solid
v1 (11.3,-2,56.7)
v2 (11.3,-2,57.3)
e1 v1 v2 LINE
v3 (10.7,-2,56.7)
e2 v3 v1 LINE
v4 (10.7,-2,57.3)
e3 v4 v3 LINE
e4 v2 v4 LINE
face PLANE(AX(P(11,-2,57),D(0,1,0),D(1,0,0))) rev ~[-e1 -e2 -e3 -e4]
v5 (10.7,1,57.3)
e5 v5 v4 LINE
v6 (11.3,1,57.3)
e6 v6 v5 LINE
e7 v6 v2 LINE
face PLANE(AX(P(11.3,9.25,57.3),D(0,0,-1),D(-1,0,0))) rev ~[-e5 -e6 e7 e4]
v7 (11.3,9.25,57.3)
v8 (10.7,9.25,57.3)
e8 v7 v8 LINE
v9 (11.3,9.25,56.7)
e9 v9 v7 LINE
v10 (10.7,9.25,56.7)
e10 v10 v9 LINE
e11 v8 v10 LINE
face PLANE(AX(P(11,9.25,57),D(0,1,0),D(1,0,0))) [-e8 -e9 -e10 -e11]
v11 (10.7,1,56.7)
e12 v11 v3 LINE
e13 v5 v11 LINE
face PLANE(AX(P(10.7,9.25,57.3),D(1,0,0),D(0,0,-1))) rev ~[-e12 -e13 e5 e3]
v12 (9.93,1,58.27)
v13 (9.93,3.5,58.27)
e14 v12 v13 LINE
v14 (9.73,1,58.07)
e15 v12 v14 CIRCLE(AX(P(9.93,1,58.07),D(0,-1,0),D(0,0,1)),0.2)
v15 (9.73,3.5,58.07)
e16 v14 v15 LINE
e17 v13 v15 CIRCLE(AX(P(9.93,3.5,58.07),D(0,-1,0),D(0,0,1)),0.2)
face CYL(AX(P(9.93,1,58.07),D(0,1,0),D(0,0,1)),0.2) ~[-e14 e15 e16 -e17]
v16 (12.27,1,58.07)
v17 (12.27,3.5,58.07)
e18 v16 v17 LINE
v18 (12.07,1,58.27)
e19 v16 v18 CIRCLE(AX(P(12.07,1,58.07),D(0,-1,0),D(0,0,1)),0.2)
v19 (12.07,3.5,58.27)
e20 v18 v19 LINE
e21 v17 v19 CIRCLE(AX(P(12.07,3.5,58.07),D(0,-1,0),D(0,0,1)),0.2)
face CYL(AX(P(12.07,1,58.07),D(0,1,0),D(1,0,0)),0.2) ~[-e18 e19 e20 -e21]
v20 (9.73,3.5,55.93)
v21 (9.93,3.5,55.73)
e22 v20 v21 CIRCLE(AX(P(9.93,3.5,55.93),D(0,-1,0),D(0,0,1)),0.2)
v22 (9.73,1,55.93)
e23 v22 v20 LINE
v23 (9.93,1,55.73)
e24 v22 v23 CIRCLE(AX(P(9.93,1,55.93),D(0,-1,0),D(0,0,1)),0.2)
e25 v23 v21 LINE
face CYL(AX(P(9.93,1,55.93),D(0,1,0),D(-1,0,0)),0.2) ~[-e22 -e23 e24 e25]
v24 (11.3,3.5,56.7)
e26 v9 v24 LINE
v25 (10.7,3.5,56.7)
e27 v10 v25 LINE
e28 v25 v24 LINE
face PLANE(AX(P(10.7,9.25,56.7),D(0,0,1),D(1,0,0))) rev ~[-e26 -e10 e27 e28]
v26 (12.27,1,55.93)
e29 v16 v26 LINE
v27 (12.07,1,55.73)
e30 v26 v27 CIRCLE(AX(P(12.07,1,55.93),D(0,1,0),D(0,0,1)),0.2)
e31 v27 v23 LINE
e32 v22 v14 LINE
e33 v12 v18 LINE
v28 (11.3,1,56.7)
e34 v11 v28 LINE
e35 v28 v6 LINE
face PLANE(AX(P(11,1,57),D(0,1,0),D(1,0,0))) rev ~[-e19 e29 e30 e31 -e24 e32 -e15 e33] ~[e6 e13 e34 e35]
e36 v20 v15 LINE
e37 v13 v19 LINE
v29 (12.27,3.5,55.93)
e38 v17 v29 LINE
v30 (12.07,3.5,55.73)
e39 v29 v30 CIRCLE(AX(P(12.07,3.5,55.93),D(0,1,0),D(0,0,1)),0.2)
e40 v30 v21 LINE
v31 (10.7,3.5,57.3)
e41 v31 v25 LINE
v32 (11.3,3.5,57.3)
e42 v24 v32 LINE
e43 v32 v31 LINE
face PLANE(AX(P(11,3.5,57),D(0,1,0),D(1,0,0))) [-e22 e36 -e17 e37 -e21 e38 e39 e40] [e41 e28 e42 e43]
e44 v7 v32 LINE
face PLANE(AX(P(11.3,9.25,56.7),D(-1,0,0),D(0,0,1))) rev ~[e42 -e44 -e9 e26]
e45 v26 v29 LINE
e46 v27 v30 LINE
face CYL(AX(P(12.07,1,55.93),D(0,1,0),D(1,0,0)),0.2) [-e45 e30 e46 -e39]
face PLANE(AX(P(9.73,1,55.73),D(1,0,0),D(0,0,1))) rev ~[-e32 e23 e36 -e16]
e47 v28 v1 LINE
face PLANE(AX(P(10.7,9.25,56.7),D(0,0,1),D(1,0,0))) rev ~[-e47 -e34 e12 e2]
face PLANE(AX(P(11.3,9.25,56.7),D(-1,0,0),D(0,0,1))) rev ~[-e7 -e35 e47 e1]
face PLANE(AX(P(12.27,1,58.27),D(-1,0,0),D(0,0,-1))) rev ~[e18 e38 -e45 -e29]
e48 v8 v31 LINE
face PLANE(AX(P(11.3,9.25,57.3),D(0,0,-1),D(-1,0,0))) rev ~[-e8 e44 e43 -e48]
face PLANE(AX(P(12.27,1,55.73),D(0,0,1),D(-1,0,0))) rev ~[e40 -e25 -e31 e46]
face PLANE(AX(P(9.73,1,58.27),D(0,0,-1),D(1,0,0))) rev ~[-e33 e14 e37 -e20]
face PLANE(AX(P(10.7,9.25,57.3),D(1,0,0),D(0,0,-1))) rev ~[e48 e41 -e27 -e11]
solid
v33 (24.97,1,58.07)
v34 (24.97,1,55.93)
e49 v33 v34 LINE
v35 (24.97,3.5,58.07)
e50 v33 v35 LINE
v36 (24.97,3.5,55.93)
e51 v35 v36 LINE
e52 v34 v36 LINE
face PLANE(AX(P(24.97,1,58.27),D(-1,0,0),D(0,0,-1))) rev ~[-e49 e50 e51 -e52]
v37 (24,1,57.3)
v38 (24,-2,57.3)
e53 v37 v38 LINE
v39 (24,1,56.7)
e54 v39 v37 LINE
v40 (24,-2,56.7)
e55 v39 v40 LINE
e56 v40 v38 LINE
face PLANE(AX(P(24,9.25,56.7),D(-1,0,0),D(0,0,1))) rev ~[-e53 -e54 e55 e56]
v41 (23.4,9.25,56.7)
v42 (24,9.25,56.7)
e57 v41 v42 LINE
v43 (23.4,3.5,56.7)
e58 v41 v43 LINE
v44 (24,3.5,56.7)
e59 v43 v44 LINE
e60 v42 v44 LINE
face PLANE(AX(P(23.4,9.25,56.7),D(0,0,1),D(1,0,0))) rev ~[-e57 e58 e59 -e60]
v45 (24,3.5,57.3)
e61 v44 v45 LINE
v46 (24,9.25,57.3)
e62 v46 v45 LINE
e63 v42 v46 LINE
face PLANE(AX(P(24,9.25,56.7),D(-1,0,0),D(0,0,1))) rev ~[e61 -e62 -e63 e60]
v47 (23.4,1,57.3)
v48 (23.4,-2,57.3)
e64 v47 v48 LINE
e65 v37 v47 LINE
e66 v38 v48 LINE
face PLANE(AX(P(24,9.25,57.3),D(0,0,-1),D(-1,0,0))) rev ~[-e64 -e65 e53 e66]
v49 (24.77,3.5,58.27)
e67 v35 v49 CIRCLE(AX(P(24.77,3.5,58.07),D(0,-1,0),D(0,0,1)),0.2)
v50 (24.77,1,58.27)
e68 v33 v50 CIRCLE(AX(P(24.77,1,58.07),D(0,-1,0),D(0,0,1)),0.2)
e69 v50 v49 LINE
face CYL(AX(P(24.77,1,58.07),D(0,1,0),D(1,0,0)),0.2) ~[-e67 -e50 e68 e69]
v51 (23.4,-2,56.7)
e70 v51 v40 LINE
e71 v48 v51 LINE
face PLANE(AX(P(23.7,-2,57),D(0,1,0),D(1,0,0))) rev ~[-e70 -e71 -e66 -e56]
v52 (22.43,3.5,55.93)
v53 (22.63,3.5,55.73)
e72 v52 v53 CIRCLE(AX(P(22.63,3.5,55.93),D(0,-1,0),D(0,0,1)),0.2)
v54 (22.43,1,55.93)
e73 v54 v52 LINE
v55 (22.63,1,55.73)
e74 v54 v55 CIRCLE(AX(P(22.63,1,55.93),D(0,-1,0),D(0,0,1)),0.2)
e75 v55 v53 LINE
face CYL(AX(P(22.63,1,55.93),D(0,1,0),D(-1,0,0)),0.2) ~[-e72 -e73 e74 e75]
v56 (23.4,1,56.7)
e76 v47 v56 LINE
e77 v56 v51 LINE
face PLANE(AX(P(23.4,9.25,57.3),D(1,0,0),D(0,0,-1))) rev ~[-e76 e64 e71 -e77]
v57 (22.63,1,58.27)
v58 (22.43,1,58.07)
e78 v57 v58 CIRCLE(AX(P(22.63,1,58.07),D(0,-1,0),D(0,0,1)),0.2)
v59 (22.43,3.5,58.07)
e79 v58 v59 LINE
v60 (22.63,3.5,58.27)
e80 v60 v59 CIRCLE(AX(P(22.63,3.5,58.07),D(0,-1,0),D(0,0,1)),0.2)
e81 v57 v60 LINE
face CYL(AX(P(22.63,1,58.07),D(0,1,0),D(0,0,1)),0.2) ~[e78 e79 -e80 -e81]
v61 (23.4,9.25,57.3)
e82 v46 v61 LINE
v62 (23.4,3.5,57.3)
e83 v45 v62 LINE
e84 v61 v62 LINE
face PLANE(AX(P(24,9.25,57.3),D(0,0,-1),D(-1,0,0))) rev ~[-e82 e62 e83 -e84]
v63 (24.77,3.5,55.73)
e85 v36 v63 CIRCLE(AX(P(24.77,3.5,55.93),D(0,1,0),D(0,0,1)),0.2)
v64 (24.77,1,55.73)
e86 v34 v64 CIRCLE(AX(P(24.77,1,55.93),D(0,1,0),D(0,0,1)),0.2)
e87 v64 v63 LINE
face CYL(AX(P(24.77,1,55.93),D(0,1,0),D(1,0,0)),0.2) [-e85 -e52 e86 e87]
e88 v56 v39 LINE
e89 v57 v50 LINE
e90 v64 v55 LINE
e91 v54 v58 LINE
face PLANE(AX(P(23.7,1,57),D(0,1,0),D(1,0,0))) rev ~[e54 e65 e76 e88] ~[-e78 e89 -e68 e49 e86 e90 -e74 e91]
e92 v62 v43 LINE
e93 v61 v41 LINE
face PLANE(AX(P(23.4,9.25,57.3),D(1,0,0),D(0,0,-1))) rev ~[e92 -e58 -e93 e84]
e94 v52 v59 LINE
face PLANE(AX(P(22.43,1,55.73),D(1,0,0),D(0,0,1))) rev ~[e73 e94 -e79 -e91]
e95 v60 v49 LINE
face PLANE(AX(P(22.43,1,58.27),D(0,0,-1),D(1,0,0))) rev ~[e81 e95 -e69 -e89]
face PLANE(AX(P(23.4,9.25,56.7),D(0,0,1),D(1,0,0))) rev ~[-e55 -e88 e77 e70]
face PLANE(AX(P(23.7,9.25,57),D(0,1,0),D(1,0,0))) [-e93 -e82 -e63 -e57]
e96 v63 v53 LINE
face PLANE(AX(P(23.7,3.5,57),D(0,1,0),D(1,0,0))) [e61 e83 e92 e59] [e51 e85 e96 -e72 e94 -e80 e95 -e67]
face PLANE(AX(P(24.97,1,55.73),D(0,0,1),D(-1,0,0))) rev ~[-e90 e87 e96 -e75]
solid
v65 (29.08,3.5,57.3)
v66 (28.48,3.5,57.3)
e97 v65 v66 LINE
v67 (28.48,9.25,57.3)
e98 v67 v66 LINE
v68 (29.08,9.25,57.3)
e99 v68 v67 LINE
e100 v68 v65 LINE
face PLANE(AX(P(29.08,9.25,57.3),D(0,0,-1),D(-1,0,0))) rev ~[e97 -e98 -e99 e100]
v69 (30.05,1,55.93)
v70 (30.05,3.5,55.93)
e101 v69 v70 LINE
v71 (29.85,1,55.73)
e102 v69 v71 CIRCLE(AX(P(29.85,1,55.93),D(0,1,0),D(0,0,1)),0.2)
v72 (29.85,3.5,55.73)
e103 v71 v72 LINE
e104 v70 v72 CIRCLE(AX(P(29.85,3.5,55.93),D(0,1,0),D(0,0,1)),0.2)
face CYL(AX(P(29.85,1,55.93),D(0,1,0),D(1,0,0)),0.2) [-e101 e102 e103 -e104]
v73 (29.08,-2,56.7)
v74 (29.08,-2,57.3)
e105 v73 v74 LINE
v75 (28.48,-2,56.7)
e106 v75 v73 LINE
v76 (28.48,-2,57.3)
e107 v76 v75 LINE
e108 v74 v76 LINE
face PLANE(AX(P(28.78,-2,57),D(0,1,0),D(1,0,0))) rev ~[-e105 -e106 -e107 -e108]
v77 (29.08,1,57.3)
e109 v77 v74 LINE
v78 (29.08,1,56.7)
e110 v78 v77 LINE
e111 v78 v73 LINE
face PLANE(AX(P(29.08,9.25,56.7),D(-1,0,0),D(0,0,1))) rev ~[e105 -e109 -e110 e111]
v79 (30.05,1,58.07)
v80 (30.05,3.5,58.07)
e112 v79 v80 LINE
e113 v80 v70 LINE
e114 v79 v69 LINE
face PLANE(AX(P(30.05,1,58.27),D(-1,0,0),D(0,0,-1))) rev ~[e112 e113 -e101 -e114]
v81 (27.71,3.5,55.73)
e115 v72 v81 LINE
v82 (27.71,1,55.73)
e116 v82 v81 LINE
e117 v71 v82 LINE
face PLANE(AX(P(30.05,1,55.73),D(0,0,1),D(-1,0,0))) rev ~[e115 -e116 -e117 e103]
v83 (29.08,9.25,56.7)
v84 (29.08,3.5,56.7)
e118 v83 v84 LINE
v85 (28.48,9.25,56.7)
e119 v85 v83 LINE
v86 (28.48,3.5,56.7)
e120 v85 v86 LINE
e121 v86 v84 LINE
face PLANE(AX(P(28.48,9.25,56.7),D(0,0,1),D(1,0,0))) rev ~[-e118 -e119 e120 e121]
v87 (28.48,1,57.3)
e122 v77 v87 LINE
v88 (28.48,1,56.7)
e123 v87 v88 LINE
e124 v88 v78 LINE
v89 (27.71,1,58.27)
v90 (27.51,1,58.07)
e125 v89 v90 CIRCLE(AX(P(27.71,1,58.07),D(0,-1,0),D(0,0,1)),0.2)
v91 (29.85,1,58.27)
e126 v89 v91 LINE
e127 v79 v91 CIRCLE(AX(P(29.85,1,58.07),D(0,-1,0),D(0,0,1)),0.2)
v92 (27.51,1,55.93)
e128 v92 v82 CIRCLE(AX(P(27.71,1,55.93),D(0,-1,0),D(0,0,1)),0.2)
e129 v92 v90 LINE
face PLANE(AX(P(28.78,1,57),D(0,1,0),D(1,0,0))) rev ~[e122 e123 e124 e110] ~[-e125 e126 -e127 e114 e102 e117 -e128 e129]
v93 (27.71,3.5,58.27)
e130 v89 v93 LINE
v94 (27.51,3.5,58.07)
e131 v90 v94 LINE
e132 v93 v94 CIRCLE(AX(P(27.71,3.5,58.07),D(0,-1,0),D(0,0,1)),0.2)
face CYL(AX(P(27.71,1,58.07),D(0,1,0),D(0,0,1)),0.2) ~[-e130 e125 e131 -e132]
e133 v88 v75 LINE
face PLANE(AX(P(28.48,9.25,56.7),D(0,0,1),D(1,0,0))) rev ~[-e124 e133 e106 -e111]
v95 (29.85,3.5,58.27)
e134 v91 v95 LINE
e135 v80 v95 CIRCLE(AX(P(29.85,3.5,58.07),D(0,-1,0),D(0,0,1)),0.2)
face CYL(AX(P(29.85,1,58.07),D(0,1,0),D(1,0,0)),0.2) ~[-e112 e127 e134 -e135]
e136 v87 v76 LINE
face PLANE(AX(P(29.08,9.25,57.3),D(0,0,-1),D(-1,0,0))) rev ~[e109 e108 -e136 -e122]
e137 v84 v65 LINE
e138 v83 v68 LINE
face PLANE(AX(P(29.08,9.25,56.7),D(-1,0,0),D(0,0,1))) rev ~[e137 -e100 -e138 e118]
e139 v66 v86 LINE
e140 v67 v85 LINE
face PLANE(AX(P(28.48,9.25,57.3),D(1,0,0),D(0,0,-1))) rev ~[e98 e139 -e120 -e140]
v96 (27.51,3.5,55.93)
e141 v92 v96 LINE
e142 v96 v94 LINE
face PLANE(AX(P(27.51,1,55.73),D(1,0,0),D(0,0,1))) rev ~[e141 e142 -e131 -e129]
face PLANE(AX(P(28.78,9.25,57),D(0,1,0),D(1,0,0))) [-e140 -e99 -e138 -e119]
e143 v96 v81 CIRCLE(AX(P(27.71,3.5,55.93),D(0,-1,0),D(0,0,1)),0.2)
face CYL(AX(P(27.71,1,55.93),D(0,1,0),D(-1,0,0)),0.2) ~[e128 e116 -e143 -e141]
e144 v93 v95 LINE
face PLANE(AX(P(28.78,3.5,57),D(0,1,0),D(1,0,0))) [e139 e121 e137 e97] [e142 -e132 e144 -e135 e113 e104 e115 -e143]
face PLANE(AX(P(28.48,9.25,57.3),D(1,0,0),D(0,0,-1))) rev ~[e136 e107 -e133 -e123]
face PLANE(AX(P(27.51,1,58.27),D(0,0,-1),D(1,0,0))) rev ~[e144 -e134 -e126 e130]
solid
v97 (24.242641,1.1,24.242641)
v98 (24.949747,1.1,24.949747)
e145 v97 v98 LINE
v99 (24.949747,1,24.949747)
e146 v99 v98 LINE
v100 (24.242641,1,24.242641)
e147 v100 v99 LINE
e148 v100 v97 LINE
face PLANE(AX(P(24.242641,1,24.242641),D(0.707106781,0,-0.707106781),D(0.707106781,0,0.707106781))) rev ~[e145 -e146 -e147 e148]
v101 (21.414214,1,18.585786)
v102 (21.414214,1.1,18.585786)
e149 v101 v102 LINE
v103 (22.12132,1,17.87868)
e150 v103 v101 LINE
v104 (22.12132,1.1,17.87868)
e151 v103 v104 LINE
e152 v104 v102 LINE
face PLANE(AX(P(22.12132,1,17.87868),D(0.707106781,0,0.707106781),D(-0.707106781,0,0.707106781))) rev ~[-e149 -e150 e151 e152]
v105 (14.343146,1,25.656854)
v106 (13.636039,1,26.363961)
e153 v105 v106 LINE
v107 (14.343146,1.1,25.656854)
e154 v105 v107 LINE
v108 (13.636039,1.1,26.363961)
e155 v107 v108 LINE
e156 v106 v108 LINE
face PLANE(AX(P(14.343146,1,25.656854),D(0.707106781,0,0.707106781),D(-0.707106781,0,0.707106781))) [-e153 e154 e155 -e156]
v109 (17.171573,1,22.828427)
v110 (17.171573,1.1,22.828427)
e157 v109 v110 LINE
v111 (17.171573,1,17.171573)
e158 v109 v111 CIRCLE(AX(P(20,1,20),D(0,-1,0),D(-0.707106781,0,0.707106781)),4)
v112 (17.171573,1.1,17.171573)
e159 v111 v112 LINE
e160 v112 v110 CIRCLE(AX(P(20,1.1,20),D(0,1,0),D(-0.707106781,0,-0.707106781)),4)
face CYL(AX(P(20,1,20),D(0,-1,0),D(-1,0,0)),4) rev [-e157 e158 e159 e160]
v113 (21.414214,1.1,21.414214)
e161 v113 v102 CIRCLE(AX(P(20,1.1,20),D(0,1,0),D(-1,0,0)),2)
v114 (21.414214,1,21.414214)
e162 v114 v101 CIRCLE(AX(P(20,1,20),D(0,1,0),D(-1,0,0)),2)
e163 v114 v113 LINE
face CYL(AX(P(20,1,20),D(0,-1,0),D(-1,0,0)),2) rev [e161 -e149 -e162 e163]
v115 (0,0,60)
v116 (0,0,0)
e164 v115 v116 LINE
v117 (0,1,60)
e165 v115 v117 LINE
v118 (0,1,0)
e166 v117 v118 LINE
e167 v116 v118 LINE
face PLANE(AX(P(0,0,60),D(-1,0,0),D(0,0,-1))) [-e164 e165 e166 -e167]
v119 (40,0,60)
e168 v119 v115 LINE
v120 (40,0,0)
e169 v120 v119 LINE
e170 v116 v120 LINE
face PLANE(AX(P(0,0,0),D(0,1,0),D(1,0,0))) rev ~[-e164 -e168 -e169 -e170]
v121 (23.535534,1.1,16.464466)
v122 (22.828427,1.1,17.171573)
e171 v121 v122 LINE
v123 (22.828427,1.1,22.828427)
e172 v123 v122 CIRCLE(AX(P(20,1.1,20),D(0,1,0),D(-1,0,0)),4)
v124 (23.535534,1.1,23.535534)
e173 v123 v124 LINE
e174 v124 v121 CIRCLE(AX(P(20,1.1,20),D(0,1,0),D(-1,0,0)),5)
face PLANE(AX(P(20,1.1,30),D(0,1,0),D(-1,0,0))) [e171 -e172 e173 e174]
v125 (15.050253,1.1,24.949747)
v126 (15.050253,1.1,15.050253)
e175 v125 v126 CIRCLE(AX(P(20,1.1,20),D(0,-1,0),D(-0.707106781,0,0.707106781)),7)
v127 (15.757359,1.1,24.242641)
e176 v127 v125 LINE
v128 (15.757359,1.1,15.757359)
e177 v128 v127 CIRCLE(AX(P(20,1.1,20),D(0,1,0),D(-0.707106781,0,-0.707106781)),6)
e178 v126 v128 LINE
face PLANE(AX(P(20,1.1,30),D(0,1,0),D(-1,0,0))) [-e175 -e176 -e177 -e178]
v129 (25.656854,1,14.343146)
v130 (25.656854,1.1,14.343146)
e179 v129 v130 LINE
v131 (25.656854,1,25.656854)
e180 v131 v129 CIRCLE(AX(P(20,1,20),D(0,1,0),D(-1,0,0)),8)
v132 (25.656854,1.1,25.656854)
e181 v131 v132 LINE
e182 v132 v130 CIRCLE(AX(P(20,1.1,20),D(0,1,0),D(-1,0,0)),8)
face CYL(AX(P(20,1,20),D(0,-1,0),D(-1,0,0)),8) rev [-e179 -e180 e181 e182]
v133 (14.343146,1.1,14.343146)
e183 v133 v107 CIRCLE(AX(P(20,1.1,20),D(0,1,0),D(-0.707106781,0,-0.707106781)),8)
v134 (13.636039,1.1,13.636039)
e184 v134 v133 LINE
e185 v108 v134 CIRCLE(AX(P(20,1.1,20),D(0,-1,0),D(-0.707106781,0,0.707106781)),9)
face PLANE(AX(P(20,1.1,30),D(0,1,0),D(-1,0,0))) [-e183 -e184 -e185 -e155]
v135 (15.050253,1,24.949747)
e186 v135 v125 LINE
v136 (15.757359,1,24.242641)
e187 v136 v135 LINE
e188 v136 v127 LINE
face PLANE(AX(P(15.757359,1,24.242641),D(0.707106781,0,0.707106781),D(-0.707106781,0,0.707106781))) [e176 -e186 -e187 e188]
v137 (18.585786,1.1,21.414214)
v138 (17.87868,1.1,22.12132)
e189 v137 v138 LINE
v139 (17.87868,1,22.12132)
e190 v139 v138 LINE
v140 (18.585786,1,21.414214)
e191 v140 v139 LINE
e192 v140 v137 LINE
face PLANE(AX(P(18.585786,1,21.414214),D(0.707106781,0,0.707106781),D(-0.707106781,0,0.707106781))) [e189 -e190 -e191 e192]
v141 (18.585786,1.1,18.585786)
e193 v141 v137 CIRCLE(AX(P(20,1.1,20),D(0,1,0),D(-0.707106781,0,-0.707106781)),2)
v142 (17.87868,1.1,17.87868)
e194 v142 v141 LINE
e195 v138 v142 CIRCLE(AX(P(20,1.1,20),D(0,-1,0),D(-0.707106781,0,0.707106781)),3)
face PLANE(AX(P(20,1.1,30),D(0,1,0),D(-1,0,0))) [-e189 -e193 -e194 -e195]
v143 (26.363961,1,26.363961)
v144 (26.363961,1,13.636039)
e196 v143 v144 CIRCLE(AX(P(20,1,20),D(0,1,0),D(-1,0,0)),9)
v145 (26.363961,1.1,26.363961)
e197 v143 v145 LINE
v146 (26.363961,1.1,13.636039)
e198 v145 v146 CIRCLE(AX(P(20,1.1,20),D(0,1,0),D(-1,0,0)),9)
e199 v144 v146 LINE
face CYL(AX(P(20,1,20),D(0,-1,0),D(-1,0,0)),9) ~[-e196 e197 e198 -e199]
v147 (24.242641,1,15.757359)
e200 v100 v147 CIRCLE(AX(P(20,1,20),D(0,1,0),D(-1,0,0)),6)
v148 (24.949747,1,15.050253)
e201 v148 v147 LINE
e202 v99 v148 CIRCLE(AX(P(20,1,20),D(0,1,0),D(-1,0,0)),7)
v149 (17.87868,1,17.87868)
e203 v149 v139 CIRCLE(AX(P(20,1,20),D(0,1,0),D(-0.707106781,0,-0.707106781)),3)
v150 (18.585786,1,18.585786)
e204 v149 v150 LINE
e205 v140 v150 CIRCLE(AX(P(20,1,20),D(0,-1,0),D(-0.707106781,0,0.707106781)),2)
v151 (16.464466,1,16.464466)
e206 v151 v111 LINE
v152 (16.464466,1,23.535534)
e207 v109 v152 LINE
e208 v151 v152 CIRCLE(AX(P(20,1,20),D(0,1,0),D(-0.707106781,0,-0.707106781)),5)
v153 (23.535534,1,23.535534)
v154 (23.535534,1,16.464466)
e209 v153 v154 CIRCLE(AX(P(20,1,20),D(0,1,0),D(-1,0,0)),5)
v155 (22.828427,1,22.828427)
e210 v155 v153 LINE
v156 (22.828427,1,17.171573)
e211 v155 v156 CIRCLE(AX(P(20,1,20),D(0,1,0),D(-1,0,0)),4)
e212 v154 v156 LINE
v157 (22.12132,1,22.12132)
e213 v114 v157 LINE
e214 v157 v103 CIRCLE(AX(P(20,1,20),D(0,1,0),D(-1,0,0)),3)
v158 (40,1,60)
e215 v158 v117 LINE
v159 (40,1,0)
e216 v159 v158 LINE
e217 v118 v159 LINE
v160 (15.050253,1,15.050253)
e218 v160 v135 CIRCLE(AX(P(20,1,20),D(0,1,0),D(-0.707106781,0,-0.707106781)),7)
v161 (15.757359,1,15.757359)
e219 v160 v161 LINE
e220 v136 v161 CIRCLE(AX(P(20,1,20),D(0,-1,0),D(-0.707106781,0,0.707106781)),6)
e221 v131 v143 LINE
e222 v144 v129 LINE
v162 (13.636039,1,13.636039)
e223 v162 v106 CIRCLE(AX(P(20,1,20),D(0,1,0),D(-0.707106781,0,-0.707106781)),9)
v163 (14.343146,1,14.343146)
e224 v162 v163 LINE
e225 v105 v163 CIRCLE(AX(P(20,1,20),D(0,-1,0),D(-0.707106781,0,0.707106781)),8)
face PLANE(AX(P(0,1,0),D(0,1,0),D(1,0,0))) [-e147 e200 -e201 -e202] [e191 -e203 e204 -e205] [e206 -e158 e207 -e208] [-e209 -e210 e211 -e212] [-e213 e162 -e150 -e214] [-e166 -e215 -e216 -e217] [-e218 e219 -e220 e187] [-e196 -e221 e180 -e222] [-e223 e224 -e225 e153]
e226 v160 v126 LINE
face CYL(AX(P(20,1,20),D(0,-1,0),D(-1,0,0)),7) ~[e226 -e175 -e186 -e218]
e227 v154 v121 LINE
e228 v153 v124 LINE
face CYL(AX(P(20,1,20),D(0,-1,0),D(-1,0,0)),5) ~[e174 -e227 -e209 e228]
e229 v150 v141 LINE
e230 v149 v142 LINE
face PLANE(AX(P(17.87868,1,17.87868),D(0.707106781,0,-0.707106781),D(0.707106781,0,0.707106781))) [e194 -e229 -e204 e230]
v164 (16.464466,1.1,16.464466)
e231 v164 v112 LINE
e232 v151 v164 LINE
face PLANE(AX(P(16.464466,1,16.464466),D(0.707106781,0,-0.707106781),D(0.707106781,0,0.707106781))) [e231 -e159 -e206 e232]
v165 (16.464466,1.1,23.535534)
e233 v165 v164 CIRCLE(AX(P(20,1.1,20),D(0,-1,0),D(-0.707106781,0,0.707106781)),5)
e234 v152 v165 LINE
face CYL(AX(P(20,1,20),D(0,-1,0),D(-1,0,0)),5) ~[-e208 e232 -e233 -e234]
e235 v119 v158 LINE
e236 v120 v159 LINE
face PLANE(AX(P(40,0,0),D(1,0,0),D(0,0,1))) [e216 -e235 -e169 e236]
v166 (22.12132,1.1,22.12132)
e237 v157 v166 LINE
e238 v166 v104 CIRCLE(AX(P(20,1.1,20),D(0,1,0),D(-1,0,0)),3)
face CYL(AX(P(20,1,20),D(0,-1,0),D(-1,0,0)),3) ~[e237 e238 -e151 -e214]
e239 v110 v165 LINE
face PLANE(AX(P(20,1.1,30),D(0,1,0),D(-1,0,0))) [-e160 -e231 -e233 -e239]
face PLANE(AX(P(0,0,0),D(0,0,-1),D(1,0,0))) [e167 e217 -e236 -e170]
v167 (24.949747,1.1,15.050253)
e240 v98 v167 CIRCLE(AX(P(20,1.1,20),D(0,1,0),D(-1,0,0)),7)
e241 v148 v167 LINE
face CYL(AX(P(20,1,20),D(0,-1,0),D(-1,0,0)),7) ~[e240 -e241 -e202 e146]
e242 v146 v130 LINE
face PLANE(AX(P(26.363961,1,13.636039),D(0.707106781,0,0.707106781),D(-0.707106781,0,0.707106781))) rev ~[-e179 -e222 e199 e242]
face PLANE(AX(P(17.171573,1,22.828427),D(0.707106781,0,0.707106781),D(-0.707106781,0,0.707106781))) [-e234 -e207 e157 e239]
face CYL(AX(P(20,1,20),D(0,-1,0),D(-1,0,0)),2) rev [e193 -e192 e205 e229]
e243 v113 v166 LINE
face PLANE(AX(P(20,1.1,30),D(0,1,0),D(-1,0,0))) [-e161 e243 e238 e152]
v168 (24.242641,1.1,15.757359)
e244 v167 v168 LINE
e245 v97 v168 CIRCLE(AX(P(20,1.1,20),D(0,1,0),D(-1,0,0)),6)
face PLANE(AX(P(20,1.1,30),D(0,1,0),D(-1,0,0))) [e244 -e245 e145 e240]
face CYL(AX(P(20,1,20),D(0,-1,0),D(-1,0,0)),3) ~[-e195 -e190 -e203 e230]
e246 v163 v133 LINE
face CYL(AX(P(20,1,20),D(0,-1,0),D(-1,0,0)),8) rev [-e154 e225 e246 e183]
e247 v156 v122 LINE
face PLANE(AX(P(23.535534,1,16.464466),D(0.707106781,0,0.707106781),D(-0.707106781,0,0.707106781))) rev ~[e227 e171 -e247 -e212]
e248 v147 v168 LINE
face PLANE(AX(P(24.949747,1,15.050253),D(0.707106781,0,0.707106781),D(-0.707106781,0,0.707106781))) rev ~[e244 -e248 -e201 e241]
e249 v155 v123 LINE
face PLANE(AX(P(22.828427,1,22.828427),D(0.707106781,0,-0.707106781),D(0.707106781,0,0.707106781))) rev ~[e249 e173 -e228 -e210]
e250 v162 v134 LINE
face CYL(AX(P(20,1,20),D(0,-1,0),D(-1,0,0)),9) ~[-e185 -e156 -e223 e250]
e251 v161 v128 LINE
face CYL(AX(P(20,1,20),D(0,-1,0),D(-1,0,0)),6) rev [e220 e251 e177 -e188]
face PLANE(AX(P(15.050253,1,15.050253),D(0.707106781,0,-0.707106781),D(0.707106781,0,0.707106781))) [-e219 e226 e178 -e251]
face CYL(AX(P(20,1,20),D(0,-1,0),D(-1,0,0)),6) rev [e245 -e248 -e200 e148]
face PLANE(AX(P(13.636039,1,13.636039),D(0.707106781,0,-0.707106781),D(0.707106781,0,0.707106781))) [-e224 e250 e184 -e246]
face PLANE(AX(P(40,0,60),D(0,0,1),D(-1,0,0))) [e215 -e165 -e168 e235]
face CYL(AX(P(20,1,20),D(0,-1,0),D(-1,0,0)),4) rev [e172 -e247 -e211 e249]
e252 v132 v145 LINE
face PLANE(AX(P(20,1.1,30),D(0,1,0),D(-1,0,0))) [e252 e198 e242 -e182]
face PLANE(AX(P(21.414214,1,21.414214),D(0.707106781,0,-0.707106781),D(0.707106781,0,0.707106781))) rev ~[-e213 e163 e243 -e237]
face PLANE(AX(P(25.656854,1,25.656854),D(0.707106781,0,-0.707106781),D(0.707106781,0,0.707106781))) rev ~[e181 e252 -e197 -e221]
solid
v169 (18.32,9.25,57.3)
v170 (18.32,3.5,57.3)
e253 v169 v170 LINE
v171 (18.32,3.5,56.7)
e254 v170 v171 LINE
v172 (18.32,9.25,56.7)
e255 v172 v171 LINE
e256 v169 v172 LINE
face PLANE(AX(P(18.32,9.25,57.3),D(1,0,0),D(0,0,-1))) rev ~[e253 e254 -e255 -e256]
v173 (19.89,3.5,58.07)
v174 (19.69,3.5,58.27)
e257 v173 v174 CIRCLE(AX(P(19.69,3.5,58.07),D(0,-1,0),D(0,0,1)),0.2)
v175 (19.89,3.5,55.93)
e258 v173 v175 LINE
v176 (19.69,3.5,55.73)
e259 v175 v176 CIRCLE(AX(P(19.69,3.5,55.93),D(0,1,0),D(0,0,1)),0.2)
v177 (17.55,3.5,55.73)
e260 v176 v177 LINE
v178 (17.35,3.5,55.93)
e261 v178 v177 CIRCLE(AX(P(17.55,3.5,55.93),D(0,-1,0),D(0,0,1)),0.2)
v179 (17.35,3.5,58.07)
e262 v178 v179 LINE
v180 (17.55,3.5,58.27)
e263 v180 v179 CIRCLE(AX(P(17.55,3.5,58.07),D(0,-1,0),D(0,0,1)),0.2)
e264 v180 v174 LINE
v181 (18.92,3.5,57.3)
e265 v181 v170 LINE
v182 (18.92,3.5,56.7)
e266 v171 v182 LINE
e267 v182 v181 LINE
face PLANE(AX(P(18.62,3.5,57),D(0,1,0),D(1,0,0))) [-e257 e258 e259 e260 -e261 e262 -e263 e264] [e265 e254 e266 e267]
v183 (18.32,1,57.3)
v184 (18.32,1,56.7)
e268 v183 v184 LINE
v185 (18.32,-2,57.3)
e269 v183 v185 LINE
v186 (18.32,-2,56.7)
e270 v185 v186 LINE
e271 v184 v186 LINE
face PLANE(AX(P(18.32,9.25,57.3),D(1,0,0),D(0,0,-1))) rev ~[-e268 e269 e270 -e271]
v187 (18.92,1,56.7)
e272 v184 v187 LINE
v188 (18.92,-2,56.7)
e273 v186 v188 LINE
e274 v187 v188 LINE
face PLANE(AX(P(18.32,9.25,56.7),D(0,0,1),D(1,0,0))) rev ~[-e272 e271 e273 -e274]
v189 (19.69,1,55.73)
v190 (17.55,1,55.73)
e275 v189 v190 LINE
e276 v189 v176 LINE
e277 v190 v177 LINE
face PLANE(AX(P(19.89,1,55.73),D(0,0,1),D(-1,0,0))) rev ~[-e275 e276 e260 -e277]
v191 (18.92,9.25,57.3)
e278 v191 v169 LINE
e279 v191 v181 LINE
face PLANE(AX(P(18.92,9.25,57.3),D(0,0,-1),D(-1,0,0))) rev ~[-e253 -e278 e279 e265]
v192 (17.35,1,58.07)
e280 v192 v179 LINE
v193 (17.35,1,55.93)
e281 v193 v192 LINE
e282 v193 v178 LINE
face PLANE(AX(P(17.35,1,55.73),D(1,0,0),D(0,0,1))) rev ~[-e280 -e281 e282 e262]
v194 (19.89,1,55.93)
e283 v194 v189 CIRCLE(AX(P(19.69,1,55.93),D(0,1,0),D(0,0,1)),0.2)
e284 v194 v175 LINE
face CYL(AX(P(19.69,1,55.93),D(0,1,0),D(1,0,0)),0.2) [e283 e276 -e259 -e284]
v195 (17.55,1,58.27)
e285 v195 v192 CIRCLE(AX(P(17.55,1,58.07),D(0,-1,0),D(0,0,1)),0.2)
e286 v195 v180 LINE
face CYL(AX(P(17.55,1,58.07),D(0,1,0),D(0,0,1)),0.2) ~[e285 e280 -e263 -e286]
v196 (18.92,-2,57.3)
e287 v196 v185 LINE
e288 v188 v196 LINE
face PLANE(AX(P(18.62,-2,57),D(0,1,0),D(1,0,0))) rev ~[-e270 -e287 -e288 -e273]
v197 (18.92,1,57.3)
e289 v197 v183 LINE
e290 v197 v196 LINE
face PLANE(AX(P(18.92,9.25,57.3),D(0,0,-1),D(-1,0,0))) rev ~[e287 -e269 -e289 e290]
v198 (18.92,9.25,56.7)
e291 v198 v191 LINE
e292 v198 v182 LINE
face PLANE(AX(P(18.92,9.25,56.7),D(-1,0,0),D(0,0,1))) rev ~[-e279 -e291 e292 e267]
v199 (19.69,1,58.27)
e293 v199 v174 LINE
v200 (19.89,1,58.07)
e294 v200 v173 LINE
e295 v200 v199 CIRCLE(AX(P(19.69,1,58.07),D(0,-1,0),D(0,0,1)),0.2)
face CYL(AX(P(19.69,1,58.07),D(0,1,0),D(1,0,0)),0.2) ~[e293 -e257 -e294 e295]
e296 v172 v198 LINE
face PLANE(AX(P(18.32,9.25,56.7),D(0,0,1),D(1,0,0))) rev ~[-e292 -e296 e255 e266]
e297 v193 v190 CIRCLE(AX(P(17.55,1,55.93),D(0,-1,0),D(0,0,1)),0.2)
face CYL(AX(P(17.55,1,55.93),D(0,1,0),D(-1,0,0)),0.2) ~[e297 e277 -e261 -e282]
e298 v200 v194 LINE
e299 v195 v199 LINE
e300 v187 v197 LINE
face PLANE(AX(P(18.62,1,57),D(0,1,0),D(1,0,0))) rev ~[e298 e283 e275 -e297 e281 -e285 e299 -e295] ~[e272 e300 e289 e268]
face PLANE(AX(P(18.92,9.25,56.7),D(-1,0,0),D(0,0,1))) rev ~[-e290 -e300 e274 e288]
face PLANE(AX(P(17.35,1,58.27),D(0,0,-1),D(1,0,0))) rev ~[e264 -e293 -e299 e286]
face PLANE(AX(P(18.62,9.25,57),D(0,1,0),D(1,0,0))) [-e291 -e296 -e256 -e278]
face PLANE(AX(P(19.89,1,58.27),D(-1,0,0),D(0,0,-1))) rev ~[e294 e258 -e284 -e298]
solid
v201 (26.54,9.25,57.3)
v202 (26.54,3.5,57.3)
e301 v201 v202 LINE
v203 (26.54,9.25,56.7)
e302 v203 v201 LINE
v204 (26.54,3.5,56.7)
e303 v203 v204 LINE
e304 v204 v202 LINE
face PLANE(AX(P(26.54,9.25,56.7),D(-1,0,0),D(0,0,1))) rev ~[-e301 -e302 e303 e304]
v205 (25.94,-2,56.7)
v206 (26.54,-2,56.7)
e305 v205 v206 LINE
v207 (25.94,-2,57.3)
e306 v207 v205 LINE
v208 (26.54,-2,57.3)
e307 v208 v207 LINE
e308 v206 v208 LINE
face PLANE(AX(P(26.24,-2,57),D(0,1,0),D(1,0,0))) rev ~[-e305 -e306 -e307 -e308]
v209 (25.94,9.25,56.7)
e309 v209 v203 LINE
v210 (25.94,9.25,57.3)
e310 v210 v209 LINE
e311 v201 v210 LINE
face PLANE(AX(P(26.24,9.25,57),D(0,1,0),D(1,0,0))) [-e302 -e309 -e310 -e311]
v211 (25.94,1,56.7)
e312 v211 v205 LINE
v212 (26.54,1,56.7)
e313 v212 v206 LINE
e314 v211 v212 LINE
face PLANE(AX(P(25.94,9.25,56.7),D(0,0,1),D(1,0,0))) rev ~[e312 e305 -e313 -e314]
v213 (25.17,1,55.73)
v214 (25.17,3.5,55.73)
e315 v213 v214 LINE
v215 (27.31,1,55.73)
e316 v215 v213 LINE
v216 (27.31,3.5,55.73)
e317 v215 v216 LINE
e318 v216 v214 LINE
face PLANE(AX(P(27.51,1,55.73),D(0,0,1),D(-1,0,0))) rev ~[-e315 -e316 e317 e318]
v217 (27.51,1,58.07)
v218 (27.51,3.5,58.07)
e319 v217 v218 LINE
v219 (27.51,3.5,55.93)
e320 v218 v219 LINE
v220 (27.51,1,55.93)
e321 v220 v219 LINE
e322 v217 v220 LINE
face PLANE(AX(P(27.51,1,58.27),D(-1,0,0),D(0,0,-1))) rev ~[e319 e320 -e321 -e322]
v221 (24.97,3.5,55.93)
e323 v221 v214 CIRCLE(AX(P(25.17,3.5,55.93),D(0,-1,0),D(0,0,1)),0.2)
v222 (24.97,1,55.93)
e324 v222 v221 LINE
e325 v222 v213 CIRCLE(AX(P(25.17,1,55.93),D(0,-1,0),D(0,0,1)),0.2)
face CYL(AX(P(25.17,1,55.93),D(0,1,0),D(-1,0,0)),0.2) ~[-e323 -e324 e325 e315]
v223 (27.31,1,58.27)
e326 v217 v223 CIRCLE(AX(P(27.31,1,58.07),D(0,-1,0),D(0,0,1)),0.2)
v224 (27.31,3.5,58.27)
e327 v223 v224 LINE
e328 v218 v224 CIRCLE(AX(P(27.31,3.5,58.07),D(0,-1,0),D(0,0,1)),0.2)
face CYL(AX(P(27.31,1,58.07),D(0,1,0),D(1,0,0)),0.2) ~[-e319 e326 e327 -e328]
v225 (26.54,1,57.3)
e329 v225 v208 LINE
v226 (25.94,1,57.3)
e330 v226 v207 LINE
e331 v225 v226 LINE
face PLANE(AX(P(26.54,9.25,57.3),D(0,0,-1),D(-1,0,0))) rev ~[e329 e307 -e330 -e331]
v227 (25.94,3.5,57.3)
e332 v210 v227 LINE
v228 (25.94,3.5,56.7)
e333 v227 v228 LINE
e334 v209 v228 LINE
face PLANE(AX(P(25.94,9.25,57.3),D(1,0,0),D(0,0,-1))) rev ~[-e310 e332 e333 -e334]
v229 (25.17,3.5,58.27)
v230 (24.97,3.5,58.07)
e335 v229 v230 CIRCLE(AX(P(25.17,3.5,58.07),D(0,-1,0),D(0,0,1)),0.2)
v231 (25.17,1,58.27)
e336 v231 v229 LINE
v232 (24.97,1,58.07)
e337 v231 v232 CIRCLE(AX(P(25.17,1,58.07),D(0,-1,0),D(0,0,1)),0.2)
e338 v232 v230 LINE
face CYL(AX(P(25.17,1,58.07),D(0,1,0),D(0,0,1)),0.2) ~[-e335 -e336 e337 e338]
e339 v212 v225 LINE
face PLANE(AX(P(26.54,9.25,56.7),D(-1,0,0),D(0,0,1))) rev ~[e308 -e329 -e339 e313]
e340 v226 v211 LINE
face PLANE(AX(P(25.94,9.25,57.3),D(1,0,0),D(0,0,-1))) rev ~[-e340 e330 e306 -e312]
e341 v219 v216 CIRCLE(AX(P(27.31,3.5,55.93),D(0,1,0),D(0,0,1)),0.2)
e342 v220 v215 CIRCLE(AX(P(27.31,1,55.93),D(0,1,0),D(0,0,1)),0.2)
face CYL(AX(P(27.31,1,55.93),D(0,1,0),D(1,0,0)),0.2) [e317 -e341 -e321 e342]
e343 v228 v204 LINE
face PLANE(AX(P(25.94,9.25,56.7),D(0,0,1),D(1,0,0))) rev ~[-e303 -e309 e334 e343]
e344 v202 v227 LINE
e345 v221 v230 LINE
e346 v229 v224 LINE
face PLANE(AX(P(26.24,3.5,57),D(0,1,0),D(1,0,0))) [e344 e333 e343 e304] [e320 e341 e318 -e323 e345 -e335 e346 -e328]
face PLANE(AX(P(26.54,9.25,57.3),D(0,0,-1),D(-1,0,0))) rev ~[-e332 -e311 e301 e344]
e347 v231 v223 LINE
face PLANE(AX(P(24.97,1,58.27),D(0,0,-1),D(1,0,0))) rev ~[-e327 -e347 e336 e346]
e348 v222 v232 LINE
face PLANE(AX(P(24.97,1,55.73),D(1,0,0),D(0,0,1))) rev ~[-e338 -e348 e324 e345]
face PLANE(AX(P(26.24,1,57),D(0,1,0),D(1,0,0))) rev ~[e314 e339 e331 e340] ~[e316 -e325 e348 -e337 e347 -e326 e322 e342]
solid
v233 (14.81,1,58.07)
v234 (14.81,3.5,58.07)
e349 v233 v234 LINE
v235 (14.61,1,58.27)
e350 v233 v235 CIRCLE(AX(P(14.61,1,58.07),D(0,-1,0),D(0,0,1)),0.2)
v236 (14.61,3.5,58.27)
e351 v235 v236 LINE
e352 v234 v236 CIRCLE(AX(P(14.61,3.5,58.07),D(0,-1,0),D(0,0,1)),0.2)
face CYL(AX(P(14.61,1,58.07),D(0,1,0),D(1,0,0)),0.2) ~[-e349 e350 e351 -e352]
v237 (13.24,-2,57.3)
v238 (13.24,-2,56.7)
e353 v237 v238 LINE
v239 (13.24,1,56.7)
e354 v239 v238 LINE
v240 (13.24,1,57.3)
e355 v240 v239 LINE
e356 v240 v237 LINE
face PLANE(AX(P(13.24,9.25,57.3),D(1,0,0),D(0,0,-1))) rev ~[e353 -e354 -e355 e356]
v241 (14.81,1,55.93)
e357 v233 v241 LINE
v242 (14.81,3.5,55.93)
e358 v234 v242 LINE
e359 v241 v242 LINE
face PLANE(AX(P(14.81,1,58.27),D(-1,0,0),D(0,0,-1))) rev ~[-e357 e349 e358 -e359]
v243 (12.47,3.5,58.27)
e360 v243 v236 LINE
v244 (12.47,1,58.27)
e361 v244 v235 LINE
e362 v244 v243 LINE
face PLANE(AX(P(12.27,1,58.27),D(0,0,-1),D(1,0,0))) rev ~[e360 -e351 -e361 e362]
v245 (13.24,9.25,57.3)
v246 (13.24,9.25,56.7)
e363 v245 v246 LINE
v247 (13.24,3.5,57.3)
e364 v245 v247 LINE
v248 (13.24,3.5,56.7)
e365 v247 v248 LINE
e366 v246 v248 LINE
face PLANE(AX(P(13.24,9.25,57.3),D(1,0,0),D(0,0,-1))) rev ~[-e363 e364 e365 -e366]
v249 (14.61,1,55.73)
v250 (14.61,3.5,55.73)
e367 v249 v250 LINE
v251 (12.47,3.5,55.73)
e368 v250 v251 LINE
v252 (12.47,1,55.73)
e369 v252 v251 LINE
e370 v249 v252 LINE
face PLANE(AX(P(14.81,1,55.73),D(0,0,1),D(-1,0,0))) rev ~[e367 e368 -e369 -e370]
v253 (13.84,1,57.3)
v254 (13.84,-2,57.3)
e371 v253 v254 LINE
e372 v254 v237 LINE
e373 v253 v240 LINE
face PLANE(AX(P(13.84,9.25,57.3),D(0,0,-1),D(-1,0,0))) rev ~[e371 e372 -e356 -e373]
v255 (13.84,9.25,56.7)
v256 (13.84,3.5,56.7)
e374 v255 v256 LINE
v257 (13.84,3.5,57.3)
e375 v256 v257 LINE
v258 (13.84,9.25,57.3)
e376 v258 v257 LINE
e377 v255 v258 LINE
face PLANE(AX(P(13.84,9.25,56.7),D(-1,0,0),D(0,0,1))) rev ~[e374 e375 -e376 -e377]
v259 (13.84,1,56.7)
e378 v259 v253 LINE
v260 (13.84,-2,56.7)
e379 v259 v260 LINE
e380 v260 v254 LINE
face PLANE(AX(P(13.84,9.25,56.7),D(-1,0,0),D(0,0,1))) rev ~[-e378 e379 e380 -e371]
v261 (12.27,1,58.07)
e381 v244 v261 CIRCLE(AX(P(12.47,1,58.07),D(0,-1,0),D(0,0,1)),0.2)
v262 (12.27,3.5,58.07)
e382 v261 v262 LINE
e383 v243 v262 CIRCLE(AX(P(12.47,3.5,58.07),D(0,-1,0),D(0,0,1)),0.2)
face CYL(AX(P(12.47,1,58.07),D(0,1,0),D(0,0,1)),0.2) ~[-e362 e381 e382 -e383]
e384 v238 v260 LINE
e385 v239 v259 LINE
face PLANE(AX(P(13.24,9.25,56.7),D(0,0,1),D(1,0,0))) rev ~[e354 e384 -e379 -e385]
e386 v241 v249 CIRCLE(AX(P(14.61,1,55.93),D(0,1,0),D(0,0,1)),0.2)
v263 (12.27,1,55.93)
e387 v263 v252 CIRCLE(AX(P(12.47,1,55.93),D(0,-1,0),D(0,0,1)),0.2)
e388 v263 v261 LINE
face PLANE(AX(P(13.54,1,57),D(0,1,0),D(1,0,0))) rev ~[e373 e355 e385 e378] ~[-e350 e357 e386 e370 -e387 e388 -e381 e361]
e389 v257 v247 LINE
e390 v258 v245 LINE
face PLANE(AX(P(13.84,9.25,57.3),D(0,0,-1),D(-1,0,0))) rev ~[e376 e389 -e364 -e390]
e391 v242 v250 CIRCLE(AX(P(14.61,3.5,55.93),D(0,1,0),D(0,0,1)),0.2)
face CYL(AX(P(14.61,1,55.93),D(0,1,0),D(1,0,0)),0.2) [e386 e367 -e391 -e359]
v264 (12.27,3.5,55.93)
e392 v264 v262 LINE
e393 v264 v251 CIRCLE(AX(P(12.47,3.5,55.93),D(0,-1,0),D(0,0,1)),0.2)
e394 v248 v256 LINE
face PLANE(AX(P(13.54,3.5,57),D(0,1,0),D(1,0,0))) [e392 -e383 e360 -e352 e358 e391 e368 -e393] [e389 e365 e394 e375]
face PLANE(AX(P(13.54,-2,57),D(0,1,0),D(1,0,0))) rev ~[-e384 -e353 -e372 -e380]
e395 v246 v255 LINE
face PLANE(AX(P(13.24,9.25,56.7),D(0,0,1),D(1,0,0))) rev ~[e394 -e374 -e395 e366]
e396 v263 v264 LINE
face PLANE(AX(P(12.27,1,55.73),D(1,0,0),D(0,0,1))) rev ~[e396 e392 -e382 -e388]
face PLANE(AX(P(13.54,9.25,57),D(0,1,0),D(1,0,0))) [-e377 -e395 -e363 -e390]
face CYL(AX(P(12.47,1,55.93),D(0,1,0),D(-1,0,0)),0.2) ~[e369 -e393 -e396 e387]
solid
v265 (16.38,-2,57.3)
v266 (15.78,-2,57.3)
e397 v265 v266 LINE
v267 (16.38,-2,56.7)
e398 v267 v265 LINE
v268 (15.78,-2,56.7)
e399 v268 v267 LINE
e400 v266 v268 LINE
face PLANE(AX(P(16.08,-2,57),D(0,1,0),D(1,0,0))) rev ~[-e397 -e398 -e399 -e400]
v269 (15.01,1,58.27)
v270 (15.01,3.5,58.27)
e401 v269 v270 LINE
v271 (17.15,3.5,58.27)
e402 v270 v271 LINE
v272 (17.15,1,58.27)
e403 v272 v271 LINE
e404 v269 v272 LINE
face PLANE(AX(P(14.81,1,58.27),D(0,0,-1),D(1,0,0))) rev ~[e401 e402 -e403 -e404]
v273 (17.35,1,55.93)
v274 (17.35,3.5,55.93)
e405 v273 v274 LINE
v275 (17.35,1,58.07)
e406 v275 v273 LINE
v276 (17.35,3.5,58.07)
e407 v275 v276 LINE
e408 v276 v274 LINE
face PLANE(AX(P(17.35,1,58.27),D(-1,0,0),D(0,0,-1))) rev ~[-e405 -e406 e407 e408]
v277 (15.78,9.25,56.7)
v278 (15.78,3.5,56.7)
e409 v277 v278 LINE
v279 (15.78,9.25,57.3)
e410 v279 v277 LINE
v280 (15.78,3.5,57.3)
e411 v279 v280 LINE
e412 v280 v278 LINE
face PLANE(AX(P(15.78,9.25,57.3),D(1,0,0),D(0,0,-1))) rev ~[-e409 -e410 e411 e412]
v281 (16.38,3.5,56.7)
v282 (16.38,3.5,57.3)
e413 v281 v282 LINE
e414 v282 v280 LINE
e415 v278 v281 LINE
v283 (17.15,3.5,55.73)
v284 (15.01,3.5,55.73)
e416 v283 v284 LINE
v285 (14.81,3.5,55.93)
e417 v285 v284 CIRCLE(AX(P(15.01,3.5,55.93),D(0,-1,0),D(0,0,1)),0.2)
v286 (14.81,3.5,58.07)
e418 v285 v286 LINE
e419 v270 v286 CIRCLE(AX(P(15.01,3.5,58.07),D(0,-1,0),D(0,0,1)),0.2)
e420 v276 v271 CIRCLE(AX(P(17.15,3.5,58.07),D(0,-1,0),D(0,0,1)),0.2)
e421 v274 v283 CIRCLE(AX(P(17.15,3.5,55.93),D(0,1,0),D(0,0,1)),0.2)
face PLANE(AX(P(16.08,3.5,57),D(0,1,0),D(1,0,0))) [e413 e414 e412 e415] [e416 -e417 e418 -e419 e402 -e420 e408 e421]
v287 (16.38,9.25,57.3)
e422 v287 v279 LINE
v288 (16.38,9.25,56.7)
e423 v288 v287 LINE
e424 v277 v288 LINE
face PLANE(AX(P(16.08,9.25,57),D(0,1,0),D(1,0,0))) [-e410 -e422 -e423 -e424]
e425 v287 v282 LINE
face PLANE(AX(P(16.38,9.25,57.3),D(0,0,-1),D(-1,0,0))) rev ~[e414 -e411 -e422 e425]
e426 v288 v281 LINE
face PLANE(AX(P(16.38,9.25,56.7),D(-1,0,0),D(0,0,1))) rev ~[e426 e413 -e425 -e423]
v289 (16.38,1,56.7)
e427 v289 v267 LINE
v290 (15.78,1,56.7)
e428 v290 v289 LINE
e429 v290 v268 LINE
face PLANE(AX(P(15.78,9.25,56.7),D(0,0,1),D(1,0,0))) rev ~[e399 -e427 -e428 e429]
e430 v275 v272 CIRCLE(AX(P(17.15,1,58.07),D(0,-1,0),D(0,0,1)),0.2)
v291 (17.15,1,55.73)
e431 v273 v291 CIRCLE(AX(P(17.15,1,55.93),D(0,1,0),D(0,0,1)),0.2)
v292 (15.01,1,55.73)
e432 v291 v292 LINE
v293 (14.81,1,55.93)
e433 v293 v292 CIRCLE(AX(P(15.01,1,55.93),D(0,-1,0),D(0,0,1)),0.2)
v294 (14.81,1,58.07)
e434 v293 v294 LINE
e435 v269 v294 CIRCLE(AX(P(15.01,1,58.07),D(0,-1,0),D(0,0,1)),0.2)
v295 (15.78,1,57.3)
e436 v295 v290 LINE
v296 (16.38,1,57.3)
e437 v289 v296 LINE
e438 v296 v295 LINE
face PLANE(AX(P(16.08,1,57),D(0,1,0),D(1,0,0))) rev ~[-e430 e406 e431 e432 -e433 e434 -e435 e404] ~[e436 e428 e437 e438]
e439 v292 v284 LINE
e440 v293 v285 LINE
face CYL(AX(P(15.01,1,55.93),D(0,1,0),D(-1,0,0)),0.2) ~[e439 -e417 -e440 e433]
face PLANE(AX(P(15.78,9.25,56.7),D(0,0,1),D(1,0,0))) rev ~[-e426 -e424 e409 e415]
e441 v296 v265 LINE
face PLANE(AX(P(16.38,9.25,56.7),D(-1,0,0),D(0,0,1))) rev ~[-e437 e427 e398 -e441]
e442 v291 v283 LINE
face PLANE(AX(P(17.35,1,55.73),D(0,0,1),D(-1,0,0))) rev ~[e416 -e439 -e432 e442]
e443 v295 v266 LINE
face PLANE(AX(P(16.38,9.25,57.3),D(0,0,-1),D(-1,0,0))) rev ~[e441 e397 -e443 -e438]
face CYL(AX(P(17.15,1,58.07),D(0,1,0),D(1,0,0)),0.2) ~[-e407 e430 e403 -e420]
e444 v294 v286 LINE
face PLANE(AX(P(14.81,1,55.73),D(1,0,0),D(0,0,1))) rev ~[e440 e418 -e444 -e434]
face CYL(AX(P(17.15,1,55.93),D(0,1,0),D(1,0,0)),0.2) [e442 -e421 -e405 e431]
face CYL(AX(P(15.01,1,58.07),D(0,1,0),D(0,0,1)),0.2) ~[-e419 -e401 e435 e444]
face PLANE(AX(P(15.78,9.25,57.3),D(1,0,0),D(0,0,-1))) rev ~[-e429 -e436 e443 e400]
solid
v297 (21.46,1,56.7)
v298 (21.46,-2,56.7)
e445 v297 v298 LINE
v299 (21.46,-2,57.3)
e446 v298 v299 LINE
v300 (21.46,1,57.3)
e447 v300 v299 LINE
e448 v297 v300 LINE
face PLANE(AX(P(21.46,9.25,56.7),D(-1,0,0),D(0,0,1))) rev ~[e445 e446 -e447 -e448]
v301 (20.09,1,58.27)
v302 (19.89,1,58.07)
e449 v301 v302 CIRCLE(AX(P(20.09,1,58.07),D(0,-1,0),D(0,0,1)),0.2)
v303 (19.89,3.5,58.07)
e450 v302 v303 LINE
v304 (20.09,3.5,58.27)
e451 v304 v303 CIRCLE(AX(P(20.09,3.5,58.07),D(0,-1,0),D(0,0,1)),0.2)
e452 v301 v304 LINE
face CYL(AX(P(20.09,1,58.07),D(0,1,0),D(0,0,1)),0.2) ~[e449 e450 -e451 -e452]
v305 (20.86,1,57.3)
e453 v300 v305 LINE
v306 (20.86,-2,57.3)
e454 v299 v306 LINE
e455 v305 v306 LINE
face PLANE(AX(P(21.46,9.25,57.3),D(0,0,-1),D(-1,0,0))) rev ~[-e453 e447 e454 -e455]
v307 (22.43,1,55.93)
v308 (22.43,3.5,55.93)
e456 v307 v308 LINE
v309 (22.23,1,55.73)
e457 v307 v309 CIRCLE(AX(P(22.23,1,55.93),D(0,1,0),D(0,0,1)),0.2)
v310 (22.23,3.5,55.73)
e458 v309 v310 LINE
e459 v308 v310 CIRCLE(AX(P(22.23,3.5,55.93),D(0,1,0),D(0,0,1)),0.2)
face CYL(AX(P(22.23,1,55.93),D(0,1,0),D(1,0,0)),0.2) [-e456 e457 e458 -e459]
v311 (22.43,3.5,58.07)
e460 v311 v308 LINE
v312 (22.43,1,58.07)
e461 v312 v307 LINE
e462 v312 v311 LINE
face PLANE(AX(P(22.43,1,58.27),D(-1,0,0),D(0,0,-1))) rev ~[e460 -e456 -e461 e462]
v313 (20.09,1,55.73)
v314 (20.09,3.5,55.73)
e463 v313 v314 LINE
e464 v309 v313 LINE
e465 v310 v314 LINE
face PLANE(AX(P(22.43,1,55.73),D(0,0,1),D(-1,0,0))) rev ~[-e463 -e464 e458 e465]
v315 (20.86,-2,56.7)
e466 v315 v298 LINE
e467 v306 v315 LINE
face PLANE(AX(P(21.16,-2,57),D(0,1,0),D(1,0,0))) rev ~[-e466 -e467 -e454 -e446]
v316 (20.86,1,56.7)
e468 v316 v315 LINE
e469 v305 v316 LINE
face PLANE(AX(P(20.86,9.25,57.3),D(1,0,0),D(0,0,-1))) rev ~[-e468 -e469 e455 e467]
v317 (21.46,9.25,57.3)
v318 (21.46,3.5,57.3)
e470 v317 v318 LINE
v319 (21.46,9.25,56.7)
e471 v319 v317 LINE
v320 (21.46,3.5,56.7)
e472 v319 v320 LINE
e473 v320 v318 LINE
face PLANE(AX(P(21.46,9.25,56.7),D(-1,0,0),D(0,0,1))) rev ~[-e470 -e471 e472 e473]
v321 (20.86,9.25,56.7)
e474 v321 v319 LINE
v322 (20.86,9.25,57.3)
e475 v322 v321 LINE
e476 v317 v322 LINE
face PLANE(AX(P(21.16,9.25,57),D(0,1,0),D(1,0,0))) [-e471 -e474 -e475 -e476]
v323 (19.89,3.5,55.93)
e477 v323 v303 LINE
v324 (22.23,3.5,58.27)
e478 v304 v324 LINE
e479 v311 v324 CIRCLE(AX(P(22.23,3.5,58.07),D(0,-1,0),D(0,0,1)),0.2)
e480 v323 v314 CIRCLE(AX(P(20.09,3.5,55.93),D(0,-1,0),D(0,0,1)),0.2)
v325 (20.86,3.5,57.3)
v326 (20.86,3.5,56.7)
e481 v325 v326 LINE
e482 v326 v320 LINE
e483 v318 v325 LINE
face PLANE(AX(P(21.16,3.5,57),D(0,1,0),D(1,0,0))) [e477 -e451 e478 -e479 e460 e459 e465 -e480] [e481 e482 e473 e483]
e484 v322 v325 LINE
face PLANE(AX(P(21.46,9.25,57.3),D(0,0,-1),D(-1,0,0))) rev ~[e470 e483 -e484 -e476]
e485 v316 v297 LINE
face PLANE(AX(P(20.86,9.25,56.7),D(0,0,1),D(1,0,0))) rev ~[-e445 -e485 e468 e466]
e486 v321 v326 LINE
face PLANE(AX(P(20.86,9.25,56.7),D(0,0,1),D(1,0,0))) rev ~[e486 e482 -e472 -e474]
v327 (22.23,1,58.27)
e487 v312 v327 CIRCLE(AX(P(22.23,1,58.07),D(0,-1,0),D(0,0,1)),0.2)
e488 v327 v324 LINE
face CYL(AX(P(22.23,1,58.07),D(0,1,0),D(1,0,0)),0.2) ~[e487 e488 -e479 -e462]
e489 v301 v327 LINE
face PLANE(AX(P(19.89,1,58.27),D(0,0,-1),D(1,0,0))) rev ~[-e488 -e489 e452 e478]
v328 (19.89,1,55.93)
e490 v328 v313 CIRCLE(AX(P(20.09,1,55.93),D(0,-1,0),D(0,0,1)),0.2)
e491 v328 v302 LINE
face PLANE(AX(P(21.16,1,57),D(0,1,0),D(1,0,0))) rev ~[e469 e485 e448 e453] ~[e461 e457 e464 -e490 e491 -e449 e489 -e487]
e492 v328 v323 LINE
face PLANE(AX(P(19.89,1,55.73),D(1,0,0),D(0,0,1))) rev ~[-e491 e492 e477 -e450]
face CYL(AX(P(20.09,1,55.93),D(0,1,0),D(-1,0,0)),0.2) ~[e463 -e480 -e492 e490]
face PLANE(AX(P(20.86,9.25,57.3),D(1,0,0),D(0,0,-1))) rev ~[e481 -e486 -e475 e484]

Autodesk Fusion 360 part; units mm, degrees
sketch "Skizze1" plane through (0, 0, 0) normal (0, 1, 0) x (1, 0, 0)
  line L0 (0, 0) -> (40, 0)
  line L1 (40, 0) -> (40, -60)
  line L2 (40, -60) -> (0, -60)
  line L3 (0, -60) -> (0, 0)
  dimension "d1" = 40
  dimension "d2" = 60
extrude "Extrusion1" add sketch "Skizze1" along normal blind 1 makes body 1
sketch "Skizze2" plane through (0, 1, 0) normal (0, 1, 0) x (-1, 0, 0)
  line L0 (0, 60) -> (-40, 60)
  line L1 (-40, 60) -> (-40, 0)
  line L2 (-40, 0) -> (0, 0)
  line L3 (0, 0) -> (0, 60)
sketch "Skizze1 (2)" plane through (0, 0, 0) normal (0, 1, 0) x (1, 0, 0) in component "PinleistenMale v6"
  line L0 (1.27, 1.27) -> (-1.27, 1.27)
  line L1 (-1.27, 1.27) -> (-1.27, -1.27)
  line L2 (-1.27, -1.27) -> (1.27, -1.27)
  line L3 (1.27, -1.27) -> (1.27, 1.27)
  line L4 (1.27, 1.27) -> (-1.27, -1.27) construction
  line L5 (-1.27, 1.27) -> (1.27, -1.27) construction
  line L6 (0.3, -0.3) -> (-0.3, -0.3)
  line L7 (-0.3, -0.3) -> (-0.3, 0.3)
  line L8 (-0.3, 0.3) -> (0.3, 0.3)
  line L9 (0.3, 0.3) -> (0.3, -0.3)
  line L10 (0.3, -0.3) -> (-0.3, 0.3) construction
  line L11 (-0.3, -0.3) -> (0.3, 0.3) construction
  dimension "d2_1" = 2.54
  dimension "d3_1" = 2.54
  dimension "d4_1" = 0.6
  dimension "d5" = 0.6
extrude "Extrusion1'" add sketch "Skizze1 (2)" along normal blind 2.5 separate body makes body 2 in component "PinleistenMale v6"
fillet "Abrundung1" radius 0.2 4 edges at (-1.27, 1.25, 1.27) (1.27, 1.25, 1.27) (1.27, 1.25, -1.27) (-1.27, 1.25, -1.27) on bodies 2 in component "PinleistenMale v6"
extrude "Extrusion2" add sketch "Skizze1 (2)" along normal blind -3 and the other way blind -8.25 contours L6 L7 L8 L9 bodies 2 in component "PinleistenMale v6"
pattern_linear "R-Anordnung1" count 8 spacing 2.54 along (1, 0, 0) of bodies 2 makes body 3 at (1.5933, 2.5, -0.1) makes body 4 at (4.1333, 2.5, -0.1) makes body 5 at (6.6733, 2.5, -0.1) makes body 6 at (10.26, 2.5, 0.9467) makes body 7 at (12.8, 2.5, 0.9467) makes body 8 at (16.1867, 2.5, 0.1) makes body 9 at (17.88, 2.5, 0.9467) in component "PinleistenMale v6"
sketch "Skizze3" plane through (20, 1, 30) normal (0, 1, 0) x (-1, 0, 0)
  circle A0 centre (0, -10) radius 2
  circle A1 centre (0, -10) radius 3
  circle A2 centre (0, -10) radius 4
  circle A3 centre (0, -10) radius 5
  circle A4 centre (0, -10) radius 6
  circle A5 centre (0, -10) radius 7
  circle A6 centre (0, -10) radius 8
  circle A7 centre (0, -10) radius 9
  line L0 (-20, -30) -> (20, -30)
  line L1 (20, -30) -> (20, 30)
  circle A8 centre (0, -10) radius 10
  line L2 (-20, -30) -> (20, 10)
  line L3 (20, 30) -> (-20, 30)
  line L4 (-20, 30) -> (-20, -30)
  line L5 (-20, -30) -> (20, -30)
  line L6 (20, -30) -> (20, 30)
  line L7 (20, -30) -> (-20, 10)
  dimension "d13" = 4
  dimension "d14" = 6
  dimension "d20" = 8
  dimension "d21" = 10
  dimension "d22" = 12
  dimension "d23" = 14
  dimension "d24" = 16
  dimension "d25" = 18
  dimension "d26" = 20
  dimension "d27" = 20
  dimension "d28" = 20
extrude "Extrusion2'" add sketch "Skizze3" along normal blind 0.1 contours A0 A1 L2 L7 | A0 A1 L2 L7 | A2 A3 L2 L7 | A2 A3 L2 L7 | A4 A5 L2 L7 | A4 A5 L2 L7 | A6 A7 L2 L7 | A6 A7 L2 L7 picked at (2.6524, -10.2175) picked at (-1.9791, -11.7778) picked at (4.641, -10.3916) picked at (-3.5801, -12.9763) picked at (5.0878, -14.2879) picked at (-5.6712, -6.5249) picked at (6.387, -4.1668) picked at (-6.6577, -4.4828) bodies 1
component "PinleistenMale v6" placed x (1, 0, 0) y (0, 1, 0) z (0, 0, 1) at (11, 1, 57)
equation "p = 2.54 mm"
equation "d2_1 = p"
equation "d3_1 = p"
equation "Anzahl_x = 8"
equation "Anzahl_y = 1"
equation "d15 = Anzahl_x"
equation "d16 = Anzahl_y"
equation "d17 = p"
equation "d18 = p"
